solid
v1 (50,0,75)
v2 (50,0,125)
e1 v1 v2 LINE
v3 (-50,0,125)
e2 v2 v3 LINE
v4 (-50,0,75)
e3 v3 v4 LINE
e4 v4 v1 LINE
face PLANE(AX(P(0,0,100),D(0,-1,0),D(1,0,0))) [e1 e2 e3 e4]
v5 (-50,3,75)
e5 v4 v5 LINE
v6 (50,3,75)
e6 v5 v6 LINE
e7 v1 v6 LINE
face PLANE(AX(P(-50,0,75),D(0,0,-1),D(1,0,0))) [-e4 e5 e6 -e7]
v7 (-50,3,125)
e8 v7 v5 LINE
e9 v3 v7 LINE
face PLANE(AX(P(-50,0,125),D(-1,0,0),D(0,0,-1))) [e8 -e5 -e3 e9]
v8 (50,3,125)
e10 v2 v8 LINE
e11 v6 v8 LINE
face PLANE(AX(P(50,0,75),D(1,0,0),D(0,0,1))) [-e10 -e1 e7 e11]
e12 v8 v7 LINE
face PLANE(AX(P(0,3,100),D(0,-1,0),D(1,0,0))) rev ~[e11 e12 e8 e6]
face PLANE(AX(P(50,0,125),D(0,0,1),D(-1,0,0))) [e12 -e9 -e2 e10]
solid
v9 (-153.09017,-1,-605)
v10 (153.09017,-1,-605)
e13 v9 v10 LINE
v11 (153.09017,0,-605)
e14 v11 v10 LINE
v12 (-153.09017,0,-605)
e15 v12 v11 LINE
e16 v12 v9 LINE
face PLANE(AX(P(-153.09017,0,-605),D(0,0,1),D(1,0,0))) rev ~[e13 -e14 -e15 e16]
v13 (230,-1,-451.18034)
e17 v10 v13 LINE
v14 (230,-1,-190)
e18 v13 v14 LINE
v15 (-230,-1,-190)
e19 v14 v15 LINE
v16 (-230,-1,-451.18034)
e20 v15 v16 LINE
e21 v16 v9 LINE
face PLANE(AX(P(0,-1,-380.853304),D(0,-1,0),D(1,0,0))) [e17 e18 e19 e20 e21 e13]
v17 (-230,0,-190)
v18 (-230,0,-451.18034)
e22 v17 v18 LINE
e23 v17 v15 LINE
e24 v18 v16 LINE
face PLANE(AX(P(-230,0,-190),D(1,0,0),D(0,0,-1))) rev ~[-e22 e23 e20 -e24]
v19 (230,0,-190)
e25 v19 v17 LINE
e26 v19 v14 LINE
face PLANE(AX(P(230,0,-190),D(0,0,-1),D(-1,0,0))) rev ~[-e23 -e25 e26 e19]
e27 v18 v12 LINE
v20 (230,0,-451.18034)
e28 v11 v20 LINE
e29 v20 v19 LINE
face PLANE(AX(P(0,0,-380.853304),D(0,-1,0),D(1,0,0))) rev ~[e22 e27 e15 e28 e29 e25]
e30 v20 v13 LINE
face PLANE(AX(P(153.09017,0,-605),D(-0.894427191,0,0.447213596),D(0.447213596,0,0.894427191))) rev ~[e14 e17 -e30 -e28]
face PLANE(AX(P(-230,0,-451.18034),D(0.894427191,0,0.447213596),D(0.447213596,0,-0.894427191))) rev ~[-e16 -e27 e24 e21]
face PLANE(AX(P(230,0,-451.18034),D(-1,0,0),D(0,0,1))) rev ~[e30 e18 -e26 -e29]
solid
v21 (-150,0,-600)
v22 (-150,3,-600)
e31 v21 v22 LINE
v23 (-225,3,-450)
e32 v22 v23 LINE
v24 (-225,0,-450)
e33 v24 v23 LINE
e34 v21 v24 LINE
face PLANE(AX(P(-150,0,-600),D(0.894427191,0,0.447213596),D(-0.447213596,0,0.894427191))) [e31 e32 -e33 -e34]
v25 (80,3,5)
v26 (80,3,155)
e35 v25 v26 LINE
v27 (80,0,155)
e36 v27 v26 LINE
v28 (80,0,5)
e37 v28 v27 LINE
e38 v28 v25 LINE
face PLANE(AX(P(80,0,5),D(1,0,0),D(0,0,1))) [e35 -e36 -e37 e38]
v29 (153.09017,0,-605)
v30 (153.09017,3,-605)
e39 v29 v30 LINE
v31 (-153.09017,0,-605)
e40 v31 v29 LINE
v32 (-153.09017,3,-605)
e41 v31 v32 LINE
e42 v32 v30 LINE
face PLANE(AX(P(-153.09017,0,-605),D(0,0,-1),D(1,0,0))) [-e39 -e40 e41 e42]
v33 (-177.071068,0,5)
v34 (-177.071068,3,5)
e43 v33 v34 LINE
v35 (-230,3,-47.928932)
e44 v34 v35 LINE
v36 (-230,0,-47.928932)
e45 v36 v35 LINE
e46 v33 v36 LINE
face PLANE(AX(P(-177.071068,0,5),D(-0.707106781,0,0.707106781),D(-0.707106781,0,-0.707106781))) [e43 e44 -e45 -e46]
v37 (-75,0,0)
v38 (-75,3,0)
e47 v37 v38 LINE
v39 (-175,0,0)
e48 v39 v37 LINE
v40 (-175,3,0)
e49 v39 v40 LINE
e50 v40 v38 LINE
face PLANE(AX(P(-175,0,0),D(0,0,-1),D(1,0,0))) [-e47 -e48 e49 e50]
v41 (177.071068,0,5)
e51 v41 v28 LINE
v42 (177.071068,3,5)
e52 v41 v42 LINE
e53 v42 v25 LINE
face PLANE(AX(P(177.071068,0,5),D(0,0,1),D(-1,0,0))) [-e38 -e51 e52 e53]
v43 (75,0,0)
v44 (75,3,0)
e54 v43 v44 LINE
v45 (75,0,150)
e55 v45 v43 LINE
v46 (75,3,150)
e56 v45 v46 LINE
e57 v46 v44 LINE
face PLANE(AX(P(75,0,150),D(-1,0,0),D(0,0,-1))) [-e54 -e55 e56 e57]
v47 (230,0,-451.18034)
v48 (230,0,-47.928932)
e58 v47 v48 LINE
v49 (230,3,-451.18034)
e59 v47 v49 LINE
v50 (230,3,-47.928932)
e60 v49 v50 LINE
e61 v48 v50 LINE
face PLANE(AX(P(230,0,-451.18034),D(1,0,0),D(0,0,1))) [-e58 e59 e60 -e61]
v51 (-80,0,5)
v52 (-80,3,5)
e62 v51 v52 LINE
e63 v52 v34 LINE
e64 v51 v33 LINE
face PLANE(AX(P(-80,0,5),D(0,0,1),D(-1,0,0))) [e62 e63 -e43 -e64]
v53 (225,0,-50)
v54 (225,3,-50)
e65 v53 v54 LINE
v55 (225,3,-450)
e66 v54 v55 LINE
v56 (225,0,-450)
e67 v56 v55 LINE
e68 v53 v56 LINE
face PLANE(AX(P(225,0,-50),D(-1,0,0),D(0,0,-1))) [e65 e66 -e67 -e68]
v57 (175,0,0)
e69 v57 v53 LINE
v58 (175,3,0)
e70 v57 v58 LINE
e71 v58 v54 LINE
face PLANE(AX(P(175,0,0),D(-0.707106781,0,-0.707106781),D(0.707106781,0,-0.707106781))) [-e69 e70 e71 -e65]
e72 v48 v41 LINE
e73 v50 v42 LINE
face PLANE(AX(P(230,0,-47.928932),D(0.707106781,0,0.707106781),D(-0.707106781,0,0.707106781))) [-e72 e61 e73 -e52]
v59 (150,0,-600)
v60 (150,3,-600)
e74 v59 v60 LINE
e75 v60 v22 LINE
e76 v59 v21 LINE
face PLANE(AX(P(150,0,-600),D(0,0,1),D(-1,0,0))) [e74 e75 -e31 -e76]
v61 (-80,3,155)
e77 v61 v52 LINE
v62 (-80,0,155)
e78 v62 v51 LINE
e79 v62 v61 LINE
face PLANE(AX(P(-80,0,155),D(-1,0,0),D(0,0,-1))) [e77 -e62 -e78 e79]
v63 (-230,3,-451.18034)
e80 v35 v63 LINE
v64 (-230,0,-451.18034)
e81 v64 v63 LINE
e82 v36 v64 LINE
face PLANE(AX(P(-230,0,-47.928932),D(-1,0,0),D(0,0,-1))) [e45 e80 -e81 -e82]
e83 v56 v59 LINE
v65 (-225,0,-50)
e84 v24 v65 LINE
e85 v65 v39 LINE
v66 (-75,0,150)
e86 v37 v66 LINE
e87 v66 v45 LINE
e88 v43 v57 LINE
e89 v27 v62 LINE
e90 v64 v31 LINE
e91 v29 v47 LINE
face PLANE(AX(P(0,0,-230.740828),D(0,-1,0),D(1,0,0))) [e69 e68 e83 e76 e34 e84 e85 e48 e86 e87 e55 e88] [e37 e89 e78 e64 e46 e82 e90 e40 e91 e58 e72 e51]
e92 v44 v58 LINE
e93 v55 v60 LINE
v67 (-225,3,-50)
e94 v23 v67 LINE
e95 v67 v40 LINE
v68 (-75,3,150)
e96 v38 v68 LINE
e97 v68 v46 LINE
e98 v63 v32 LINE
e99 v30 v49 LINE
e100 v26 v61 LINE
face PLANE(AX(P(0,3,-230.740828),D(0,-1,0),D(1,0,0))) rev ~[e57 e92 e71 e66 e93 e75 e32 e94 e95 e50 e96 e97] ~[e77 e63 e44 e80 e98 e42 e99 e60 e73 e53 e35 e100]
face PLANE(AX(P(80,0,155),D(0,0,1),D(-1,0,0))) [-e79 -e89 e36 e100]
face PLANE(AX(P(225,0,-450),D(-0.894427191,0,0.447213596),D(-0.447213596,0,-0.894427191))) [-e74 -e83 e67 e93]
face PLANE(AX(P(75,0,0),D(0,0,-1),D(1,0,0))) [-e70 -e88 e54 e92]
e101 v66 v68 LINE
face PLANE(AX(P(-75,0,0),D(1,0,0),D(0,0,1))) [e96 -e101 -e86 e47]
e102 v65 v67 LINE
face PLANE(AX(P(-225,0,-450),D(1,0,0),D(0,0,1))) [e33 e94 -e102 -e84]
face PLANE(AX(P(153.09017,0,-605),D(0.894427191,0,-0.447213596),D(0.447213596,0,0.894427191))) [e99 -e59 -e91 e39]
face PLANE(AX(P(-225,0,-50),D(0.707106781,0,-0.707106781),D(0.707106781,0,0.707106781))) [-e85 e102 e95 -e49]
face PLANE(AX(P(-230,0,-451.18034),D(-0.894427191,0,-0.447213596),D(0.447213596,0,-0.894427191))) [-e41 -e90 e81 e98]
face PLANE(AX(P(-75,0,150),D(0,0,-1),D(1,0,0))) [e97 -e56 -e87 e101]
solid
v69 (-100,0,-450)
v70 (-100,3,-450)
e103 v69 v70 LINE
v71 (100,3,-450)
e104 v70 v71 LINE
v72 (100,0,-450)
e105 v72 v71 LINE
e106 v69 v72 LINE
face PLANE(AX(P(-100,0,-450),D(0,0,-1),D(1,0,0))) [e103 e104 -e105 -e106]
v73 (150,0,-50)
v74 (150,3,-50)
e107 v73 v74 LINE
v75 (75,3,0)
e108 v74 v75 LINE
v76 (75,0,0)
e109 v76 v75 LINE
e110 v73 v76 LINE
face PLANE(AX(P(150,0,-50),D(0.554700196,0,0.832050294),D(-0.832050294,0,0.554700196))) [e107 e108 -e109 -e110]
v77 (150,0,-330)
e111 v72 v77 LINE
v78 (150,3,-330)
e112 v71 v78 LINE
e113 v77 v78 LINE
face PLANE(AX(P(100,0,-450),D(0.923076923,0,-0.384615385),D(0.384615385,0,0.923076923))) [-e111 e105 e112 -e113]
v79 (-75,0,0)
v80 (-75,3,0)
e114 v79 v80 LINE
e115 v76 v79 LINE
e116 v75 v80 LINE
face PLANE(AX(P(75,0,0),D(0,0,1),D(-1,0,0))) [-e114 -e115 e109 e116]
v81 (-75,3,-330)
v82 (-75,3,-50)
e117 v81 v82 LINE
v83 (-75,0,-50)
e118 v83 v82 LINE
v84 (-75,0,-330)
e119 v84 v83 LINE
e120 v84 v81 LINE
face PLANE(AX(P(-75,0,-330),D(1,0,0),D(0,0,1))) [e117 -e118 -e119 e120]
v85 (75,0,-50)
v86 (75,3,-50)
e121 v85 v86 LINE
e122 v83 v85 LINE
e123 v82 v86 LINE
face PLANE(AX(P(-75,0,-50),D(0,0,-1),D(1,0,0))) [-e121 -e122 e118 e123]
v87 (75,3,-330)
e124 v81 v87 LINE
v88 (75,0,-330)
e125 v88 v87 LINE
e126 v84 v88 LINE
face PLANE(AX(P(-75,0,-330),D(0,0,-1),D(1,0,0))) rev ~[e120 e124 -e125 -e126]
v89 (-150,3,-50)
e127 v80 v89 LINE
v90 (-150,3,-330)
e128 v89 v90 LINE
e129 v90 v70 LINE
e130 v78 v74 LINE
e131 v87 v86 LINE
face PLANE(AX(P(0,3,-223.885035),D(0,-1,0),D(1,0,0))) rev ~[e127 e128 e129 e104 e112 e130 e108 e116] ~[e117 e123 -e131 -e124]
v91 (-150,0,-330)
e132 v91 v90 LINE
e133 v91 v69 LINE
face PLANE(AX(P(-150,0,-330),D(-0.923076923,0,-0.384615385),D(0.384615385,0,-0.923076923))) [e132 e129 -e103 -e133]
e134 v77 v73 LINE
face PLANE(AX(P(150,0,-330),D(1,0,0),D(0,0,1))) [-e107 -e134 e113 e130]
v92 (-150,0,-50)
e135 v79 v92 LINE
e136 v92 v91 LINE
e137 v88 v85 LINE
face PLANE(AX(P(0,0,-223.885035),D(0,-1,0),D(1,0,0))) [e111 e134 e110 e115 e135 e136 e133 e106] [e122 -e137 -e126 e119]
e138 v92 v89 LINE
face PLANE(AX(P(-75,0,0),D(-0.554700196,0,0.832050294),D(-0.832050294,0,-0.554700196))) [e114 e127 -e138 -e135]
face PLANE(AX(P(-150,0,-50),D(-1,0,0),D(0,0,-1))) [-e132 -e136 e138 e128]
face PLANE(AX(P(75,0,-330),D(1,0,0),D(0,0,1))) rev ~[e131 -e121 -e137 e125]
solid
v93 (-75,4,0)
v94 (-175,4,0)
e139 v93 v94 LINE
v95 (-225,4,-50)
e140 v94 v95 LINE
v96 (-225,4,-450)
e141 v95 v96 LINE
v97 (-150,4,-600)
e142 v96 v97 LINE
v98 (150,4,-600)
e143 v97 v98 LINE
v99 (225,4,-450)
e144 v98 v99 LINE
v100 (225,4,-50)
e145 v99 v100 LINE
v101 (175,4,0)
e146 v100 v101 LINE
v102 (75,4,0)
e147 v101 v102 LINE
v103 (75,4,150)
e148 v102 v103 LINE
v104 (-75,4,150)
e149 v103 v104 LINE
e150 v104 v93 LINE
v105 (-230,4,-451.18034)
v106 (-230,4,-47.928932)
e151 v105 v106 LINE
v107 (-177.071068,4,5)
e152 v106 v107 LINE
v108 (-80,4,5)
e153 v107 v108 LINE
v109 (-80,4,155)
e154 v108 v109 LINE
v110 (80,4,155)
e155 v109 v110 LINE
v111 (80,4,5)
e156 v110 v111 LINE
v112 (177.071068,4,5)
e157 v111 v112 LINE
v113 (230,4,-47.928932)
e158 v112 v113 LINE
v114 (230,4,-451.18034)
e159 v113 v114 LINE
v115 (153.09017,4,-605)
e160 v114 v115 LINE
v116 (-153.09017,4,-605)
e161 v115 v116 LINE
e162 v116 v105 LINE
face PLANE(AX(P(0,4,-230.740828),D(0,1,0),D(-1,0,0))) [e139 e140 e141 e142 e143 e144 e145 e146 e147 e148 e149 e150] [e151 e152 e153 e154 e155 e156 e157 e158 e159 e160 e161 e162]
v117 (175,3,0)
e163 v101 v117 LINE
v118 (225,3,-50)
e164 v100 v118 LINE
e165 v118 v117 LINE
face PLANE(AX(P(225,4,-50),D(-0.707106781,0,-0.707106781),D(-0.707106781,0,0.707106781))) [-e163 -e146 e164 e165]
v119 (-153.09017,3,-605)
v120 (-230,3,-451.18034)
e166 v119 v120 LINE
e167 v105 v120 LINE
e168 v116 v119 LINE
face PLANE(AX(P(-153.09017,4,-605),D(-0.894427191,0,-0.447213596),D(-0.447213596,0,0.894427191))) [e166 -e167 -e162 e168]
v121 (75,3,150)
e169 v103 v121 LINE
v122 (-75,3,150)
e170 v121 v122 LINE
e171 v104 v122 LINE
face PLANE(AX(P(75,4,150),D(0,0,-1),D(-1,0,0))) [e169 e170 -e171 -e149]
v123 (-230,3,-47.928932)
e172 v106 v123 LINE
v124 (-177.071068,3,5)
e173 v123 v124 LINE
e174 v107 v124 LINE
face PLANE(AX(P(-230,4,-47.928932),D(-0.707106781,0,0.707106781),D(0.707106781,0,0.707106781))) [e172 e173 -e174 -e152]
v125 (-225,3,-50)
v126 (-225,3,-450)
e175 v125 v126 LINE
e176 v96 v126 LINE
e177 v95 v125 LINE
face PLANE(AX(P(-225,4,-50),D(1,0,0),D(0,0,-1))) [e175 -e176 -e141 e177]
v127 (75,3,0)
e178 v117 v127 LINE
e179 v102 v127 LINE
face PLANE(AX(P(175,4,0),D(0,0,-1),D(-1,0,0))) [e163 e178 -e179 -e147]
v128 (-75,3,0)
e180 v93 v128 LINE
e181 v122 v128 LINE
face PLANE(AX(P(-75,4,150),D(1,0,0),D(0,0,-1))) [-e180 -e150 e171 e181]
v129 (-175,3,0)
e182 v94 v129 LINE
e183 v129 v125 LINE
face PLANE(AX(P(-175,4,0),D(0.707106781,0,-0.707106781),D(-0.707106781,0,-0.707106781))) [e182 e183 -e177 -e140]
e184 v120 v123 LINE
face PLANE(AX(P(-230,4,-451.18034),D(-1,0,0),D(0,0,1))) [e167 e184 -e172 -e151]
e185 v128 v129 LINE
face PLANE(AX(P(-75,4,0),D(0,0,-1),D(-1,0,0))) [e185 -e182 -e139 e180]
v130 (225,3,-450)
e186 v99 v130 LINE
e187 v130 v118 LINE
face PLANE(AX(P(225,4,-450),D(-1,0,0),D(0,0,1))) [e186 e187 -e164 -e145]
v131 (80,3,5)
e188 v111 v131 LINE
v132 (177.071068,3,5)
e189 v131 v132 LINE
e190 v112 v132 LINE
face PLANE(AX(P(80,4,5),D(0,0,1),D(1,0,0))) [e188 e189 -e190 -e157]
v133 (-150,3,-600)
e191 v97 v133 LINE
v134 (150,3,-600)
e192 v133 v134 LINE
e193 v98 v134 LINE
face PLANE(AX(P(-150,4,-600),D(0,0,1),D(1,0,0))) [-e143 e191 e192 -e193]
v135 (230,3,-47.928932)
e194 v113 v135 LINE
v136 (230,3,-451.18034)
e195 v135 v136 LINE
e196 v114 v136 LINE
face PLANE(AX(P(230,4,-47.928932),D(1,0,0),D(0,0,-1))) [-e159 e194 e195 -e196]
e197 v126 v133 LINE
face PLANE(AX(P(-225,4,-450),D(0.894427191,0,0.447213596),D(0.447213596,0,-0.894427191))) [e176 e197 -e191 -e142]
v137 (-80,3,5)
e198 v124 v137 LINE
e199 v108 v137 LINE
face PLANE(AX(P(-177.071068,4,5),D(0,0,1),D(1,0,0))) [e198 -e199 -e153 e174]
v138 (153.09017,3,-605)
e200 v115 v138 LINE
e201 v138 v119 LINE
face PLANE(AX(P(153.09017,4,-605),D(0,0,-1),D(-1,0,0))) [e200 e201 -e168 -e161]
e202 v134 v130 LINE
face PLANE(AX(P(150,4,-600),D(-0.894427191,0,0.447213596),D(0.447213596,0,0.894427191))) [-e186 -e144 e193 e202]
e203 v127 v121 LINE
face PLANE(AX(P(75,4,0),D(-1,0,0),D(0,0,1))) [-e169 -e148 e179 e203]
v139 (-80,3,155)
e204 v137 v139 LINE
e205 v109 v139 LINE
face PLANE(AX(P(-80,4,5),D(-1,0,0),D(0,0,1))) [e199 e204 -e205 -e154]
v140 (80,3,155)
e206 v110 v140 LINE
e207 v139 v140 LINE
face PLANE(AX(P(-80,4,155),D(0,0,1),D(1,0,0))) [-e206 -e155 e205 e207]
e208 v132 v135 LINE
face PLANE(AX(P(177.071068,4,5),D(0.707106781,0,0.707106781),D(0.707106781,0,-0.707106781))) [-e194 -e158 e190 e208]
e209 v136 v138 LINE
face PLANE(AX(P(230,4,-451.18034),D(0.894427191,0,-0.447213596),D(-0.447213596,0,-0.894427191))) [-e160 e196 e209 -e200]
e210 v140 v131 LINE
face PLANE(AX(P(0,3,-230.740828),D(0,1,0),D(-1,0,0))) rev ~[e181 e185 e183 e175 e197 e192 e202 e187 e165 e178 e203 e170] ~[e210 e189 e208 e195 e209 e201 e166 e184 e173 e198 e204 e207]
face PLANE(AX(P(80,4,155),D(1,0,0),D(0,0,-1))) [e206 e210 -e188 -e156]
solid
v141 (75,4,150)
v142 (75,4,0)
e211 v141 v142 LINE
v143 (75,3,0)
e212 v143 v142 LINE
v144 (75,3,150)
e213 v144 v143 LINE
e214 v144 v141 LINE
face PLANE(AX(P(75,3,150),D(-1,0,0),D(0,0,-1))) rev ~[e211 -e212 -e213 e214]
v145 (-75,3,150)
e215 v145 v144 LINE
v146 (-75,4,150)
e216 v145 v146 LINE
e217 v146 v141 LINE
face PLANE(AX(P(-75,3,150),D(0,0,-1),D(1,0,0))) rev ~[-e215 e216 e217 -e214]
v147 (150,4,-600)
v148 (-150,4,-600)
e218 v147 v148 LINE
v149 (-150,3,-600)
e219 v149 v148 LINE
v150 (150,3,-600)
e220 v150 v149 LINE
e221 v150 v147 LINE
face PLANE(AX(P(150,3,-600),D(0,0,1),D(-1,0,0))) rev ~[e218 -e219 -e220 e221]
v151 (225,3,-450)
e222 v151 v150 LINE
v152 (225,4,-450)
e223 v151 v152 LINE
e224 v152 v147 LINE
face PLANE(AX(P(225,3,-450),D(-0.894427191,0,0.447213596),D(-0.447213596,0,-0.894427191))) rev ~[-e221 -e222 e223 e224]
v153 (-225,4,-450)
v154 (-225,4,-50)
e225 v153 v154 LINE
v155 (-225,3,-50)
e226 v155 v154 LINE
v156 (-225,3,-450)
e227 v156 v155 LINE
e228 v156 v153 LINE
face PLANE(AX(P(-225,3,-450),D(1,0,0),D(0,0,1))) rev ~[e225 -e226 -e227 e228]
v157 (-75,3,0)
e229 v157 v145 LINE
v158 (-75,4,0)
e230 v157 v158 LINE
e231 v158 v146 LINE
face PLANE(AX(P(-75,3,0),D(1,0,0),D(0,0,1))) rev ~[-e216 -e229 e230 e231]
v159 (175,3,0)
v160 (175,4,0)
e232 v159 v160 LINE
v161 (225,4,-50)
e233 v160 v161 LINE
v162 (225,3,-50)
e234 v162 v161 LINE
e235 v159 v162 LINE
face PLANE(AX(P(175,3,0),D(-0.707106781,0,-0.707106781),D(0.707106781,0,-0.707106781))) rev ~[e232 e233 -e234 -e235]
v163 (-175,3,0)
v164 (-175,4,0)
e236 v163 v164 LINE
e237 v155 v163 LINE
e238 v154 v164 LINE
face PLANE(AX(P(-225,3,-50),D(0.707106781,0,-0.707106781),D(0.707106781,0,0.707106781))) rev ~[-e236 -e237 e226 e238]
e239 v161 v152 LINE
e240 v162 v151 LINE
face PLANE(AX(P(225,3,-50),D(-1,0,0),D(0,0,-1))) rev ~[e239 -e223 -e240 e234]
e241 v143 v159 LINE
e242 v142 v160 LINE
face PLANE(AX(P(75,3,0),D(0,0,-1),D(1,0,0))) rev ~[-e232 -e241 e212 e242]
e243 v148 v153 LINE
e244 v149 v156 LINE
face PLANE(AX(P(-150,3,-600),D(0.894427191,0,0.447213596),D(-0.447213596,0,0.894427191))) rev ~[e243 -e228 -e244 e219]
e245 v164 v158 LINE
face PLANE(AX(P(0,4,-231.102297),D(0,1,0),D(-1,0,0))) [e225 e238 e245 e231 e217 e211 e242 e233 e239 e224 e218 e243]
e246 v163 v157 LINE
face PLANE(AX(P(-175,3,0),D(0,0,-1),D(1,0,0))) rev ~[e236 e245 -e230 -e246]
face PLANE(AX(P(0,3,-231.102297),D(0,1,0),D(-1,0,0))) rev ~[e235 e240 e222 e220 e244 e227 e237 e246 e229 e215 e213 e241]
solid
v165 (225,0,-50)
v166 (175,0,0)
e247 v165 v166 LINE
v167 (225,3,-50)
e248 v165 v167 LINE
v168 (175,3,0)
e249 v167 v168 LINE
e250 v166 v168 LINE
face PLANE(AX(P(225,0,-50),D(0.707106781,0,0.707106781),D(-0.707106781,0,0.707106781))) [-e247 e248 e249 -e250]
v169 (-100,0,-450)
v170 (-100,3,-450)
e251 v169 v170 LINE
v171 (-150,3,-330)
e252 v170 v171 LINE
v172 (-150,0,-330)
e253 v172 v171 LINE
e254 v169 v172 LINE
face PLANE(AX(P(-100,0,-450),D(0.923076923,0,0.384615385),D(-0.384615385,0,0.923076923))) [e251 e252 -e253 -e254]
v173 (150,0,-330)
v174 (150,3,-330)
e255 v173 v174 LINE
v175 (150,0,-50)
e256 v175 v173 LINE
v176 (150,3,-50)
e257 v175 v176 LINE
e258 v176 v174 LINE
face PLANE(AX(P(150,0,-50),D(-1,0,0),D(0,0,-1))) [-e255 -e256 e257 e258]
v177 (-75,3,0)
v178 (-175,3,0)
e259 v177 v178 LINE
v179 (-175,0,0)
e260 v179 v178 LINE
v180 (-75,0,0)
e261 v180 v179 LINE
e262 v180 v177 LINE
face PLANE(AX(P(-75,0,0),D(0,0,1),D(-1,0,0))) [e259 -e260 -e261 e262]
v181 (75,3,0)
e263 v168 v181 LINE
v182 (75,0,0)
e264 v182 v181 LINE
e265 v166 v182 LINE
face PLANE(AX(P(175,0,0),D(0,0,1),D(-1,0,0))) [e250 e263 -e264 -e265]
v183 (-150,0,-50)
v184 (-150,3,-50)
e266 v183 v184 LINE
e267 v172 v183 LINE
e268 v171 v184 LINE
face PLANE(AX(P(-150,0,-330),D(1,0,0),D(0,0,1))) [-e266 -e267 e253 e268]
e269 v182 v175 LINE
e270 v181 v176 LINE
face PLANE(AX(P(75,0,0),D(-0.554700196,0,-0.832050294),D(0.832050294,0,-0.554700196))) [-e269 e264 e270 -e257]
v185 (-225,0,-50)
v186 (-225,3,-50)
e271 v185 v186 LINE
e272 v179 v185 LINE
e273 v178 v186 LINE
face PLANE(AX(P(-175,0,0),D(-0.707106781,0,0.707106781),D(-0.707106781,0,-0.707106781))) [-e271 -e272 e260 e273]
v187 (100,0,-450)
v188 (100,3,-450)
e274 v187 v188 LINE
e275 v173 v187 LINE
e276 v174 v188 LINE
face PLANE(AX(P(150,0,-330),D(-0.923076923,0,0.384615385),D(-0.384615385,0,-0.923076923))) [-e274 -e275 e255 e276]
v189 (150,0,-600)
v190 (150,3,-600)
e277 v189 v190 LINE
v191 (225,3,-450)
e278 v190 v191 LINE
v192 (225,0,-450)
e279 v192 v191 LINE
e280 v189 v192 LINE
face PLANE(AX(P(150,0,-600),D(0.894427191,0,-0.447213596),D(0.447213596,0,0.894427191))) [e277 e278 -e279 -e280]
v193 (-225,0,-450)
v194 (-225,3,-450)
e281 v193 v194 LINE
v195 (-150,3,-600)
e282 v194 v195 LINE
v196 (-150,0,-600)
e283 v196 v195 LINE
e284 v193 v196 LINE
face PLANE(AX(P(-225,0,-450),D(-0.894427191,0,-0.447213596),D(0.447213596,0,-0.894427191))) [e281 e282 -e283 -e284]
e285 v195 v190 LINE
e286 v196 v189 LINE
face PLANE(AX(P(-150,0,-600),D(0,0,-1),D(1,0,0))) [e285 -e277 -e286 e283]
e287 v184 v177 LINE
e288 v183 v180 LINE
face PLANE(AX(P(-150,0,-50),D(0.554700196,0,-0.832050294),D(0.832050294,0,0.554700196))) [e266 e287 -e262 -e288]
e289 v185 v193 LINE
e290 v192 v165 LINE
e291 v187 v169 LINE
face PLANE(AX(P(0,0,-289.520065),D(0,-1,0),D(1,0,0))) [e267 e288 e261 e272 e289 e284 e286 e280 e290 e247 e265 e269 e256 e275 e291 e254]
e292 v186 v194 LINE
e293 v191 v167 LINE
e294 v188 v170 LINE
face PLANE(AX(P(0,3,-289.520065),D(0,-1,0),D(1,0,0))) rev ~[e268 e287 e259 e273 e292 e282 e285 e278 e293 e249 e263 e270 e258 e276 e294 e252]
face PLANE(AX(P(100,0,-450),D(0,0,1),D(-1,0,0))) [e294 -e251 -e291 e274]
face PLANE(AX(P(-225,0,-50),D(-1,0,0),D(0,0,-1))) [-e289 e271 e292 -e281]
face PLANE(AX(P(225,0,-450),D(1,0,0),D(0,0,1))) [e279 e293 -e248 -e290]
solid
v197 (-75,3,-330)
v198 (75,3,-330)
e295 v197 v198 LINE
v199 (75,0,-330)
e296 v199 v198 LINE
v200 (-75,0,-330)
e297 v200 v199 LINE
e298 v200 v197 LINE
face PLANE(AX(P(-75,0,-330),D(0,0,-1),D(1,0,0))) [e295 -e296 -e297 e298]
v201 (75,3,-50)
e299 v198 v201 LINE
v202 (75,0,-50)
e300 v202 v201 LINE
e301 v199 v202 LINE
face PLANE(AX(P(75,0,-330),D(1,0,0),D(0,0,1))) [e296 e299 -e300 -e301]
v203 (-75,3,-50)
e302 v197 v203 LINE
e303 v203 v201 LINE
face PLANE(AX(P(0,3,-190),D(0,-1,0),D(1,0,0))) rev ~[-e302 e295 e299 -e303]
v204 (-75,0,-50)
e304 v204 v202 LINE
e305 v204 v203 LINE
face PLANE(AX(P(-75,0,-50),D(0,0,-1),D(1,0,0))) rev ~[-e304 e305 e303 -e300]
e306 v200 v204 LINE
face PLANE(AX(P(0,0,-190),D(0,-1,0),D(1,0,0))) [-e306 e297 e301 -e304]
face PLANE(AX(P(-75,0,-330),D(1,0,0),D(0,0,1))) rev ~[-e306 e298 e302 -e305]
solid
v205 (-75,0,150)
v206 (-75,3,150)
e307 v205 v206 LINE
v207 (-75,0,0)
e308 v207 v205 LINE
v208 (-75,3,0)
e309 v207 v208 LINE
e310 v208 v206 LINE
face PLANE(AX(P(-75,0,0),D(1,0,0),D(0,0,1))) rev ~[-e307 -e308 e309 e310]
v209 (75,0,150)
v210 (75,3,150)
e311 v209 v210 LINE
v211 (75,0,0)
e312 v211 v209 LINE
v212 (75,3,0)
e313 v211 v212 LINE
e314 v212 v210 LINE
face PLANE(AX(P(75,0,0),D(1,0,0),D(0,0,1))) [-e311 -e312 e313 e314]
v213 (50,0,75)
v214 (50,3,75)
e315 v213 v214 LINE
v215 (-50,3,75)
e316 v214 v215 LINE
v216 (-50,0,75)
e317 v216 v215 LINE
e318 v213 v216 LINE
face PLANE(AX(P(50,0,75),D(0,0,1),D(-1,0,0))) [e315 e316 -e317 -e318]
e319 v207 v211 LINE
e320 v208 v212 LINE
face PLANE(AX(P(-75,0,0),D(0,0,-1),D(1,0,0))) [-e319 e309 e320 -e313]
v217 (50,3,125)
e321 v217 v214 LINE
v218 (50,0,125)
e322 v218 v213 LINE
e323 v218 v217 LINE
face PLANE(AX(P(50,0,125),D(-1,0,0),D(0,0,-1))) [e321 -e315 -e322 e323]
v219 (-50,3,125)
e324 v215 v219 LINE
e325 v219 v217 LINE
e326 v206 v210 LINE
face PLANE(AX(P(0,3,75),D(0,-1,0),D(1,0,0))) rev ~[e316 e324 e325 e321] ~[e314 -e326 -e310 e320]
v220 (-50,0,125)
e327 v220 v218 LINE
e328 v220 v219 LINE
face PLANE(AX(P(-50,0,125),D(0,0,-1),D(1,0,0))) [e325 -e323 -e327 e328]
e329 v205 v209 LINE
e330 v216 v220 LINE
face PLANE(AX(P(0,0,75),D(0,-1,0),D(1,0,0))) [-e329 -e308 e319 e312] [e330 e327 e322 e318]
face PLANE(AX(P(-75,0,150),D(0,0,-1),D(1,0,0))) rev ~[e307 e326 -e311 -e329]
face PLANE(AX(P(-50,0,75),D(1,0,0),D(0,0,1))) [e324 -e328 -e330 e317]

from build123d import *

# Parameters (mm, degrees)
F1_DEPTH  = 3
F2_W      = 150
F2_H      = 150
F3_DEPTH  = 3
F4_W      = 150
F4_H      = 280
F5_DEPTH  = 3
F6_W      = 150
F6_H      = 280
F7_DEPTH  = 3
F9_DEPTH  = 3
F11_DEPTH = 3
F13_DEPTH = 1
F15_DEPTH = 1
F17_DEPTH = 1


with BuildPart() as f1:
    # F0 (on Front) → F1 (new body)
    with BuildSketch(Plane.XZ):
        Polygon((50, 125), (0, 125), (-50, 125), (-50, 100), (-50, 75), (0, 75), (50, 75), (50, 100), align=None)
    extrude(amount=-F1_DEPTH)


with BuildPart() as f3:
    # F2 (on Front) → F3 (new body)
    with BuildSketch(Plane.XZ):
        with Locations((0, 75)):
            Rectangle(F2_W, F2_H)
        Polygon((-50, 125), (0, 125), (50, 125), (50, 100), (50, 75), (0, 75), (-50, 75), (-50, 100), align=None, mode=Mode.SUBTRACT)
    extrude(amount=-F3_DEPTH)


with BuildPart() as f5:
    # F4 (on Front) → F5 (new body)
    with BuildSketch(Plane.XZ):
        with Locations((0, -190)):
            Rectangle(F4_W, F4_H)
    extrude(amount=-F5_DEPTH)


with BuildPart() as f7:
    # F6 (on Front) → F7 (new body)
    with BuildSketch(Plane.XZ):
        Polygon((75, 0), (-75, 0), (-150, -50), (-150, -330), (-100, -450), (100, -450), (150, -330), (150, -50), align=None)
        with Locations((0, -190)):
            Rectangle(F6_W, F6_H, mode=Mode.SUBTRACT)
    extrude(amount=-F7_DEPTH)


with BuildPart() as f9:
    # F8 (on face) → F9 (new body)
    with BuildSketch(Plane.XZ):
        Polygon((175, 0), (75, 0), (150, -50), (150, -330), (100, -450), (-100, -450), (-150, -330), (-150, -50), (-75, 0), (-175, 0), (-225, -50), (-225, -450), (-150, -600), (150, -600), (225, -450), (225, -50), align=None)
    extrude(amount=-F9_DEPTH)


with BuildPart() as f11:
    # F10 (on face) → F11 (new body)
    with BuildSketch(Plane.XZ):
        Polygon((230, -47.928932), (177.071068, 5), (80, 5), (80, 155), (-80, 155), (-80, 5), (-177.071068, 5), (-230, -47.928932), (-230, -451.18034), (-153.09017, -605), (153.09017, -605), (230, -451.18034), align=None)
        Polygon((-75, 150), (75, 150), (75, 0), (175, 0), (225, -50), (225, -450), (150, -600), (-150, -600), (-225, -450), (-225, -50), (-175, 0), (-75, 0), align=None, mode=Mode.SUBTRACT)
    extrude(amount=-F11_DEPTH)


with BuildPart() as f13:
    # F12 (on face) → F13 (new body)
    with BuildSketch(Plane(origin=(0, 3, 0), x_dir=(-1, 0, 0), z_dir=(0, 1, 0))):
        Polygon((75, 0), (75, 150), (-75, 150), (-75, 0), (-175, 0), (-225, -50), (-225, -450), (-150, -600), (150, -600), (225, -450), (225, -50), (175, 0), align=None)
    extrude(amount=F13_DEPTH)


with BuildPart() as f15:
    # F14 (on face) → F15 (new body)
    with BuildSketch(Plane(origin=(0, 4, 0), x_dir=(-1, 0, 0), z_dir=(0, 1, 0))):
        Polygon((80, 155), (-80, 155), (-80, 5), (-177.071068, 5), (-230, -47.928932), (-230, -451.18034), (-153.09017, -605), (153.09017, -605), (230, -451.18034), (230, -47.928932), (177.071068, 5), (80, 5), align=None)
        Polygon((-75, 0), (-75, 150), (75, 150), (75, 0), (175, 0), (225, -50), (225, -450), (150, -600), (-150, -600), (-225, -450), (-225, -50), (-175, 0), align=None, mode=Mode.SUBTRACT)
    extrude(amount=-F15_DEPTH)


with BuildPart() as f17:
    # F16 (on face) → F17 (new body)
    with BuildSketch(Plane.XZ):
        Polygon((-230, -451.18034), (-153.09017, -605), (153.09017, -605), (230, -451.18034), (230, -190), (-230, -190), align=None)
    extrude(amount=F17_DEPTH)


solid = Compound([f1.part, f3.part, f5.part, f7.part, f9.part, f11.part, f13.part, f15.part, f17.part])
